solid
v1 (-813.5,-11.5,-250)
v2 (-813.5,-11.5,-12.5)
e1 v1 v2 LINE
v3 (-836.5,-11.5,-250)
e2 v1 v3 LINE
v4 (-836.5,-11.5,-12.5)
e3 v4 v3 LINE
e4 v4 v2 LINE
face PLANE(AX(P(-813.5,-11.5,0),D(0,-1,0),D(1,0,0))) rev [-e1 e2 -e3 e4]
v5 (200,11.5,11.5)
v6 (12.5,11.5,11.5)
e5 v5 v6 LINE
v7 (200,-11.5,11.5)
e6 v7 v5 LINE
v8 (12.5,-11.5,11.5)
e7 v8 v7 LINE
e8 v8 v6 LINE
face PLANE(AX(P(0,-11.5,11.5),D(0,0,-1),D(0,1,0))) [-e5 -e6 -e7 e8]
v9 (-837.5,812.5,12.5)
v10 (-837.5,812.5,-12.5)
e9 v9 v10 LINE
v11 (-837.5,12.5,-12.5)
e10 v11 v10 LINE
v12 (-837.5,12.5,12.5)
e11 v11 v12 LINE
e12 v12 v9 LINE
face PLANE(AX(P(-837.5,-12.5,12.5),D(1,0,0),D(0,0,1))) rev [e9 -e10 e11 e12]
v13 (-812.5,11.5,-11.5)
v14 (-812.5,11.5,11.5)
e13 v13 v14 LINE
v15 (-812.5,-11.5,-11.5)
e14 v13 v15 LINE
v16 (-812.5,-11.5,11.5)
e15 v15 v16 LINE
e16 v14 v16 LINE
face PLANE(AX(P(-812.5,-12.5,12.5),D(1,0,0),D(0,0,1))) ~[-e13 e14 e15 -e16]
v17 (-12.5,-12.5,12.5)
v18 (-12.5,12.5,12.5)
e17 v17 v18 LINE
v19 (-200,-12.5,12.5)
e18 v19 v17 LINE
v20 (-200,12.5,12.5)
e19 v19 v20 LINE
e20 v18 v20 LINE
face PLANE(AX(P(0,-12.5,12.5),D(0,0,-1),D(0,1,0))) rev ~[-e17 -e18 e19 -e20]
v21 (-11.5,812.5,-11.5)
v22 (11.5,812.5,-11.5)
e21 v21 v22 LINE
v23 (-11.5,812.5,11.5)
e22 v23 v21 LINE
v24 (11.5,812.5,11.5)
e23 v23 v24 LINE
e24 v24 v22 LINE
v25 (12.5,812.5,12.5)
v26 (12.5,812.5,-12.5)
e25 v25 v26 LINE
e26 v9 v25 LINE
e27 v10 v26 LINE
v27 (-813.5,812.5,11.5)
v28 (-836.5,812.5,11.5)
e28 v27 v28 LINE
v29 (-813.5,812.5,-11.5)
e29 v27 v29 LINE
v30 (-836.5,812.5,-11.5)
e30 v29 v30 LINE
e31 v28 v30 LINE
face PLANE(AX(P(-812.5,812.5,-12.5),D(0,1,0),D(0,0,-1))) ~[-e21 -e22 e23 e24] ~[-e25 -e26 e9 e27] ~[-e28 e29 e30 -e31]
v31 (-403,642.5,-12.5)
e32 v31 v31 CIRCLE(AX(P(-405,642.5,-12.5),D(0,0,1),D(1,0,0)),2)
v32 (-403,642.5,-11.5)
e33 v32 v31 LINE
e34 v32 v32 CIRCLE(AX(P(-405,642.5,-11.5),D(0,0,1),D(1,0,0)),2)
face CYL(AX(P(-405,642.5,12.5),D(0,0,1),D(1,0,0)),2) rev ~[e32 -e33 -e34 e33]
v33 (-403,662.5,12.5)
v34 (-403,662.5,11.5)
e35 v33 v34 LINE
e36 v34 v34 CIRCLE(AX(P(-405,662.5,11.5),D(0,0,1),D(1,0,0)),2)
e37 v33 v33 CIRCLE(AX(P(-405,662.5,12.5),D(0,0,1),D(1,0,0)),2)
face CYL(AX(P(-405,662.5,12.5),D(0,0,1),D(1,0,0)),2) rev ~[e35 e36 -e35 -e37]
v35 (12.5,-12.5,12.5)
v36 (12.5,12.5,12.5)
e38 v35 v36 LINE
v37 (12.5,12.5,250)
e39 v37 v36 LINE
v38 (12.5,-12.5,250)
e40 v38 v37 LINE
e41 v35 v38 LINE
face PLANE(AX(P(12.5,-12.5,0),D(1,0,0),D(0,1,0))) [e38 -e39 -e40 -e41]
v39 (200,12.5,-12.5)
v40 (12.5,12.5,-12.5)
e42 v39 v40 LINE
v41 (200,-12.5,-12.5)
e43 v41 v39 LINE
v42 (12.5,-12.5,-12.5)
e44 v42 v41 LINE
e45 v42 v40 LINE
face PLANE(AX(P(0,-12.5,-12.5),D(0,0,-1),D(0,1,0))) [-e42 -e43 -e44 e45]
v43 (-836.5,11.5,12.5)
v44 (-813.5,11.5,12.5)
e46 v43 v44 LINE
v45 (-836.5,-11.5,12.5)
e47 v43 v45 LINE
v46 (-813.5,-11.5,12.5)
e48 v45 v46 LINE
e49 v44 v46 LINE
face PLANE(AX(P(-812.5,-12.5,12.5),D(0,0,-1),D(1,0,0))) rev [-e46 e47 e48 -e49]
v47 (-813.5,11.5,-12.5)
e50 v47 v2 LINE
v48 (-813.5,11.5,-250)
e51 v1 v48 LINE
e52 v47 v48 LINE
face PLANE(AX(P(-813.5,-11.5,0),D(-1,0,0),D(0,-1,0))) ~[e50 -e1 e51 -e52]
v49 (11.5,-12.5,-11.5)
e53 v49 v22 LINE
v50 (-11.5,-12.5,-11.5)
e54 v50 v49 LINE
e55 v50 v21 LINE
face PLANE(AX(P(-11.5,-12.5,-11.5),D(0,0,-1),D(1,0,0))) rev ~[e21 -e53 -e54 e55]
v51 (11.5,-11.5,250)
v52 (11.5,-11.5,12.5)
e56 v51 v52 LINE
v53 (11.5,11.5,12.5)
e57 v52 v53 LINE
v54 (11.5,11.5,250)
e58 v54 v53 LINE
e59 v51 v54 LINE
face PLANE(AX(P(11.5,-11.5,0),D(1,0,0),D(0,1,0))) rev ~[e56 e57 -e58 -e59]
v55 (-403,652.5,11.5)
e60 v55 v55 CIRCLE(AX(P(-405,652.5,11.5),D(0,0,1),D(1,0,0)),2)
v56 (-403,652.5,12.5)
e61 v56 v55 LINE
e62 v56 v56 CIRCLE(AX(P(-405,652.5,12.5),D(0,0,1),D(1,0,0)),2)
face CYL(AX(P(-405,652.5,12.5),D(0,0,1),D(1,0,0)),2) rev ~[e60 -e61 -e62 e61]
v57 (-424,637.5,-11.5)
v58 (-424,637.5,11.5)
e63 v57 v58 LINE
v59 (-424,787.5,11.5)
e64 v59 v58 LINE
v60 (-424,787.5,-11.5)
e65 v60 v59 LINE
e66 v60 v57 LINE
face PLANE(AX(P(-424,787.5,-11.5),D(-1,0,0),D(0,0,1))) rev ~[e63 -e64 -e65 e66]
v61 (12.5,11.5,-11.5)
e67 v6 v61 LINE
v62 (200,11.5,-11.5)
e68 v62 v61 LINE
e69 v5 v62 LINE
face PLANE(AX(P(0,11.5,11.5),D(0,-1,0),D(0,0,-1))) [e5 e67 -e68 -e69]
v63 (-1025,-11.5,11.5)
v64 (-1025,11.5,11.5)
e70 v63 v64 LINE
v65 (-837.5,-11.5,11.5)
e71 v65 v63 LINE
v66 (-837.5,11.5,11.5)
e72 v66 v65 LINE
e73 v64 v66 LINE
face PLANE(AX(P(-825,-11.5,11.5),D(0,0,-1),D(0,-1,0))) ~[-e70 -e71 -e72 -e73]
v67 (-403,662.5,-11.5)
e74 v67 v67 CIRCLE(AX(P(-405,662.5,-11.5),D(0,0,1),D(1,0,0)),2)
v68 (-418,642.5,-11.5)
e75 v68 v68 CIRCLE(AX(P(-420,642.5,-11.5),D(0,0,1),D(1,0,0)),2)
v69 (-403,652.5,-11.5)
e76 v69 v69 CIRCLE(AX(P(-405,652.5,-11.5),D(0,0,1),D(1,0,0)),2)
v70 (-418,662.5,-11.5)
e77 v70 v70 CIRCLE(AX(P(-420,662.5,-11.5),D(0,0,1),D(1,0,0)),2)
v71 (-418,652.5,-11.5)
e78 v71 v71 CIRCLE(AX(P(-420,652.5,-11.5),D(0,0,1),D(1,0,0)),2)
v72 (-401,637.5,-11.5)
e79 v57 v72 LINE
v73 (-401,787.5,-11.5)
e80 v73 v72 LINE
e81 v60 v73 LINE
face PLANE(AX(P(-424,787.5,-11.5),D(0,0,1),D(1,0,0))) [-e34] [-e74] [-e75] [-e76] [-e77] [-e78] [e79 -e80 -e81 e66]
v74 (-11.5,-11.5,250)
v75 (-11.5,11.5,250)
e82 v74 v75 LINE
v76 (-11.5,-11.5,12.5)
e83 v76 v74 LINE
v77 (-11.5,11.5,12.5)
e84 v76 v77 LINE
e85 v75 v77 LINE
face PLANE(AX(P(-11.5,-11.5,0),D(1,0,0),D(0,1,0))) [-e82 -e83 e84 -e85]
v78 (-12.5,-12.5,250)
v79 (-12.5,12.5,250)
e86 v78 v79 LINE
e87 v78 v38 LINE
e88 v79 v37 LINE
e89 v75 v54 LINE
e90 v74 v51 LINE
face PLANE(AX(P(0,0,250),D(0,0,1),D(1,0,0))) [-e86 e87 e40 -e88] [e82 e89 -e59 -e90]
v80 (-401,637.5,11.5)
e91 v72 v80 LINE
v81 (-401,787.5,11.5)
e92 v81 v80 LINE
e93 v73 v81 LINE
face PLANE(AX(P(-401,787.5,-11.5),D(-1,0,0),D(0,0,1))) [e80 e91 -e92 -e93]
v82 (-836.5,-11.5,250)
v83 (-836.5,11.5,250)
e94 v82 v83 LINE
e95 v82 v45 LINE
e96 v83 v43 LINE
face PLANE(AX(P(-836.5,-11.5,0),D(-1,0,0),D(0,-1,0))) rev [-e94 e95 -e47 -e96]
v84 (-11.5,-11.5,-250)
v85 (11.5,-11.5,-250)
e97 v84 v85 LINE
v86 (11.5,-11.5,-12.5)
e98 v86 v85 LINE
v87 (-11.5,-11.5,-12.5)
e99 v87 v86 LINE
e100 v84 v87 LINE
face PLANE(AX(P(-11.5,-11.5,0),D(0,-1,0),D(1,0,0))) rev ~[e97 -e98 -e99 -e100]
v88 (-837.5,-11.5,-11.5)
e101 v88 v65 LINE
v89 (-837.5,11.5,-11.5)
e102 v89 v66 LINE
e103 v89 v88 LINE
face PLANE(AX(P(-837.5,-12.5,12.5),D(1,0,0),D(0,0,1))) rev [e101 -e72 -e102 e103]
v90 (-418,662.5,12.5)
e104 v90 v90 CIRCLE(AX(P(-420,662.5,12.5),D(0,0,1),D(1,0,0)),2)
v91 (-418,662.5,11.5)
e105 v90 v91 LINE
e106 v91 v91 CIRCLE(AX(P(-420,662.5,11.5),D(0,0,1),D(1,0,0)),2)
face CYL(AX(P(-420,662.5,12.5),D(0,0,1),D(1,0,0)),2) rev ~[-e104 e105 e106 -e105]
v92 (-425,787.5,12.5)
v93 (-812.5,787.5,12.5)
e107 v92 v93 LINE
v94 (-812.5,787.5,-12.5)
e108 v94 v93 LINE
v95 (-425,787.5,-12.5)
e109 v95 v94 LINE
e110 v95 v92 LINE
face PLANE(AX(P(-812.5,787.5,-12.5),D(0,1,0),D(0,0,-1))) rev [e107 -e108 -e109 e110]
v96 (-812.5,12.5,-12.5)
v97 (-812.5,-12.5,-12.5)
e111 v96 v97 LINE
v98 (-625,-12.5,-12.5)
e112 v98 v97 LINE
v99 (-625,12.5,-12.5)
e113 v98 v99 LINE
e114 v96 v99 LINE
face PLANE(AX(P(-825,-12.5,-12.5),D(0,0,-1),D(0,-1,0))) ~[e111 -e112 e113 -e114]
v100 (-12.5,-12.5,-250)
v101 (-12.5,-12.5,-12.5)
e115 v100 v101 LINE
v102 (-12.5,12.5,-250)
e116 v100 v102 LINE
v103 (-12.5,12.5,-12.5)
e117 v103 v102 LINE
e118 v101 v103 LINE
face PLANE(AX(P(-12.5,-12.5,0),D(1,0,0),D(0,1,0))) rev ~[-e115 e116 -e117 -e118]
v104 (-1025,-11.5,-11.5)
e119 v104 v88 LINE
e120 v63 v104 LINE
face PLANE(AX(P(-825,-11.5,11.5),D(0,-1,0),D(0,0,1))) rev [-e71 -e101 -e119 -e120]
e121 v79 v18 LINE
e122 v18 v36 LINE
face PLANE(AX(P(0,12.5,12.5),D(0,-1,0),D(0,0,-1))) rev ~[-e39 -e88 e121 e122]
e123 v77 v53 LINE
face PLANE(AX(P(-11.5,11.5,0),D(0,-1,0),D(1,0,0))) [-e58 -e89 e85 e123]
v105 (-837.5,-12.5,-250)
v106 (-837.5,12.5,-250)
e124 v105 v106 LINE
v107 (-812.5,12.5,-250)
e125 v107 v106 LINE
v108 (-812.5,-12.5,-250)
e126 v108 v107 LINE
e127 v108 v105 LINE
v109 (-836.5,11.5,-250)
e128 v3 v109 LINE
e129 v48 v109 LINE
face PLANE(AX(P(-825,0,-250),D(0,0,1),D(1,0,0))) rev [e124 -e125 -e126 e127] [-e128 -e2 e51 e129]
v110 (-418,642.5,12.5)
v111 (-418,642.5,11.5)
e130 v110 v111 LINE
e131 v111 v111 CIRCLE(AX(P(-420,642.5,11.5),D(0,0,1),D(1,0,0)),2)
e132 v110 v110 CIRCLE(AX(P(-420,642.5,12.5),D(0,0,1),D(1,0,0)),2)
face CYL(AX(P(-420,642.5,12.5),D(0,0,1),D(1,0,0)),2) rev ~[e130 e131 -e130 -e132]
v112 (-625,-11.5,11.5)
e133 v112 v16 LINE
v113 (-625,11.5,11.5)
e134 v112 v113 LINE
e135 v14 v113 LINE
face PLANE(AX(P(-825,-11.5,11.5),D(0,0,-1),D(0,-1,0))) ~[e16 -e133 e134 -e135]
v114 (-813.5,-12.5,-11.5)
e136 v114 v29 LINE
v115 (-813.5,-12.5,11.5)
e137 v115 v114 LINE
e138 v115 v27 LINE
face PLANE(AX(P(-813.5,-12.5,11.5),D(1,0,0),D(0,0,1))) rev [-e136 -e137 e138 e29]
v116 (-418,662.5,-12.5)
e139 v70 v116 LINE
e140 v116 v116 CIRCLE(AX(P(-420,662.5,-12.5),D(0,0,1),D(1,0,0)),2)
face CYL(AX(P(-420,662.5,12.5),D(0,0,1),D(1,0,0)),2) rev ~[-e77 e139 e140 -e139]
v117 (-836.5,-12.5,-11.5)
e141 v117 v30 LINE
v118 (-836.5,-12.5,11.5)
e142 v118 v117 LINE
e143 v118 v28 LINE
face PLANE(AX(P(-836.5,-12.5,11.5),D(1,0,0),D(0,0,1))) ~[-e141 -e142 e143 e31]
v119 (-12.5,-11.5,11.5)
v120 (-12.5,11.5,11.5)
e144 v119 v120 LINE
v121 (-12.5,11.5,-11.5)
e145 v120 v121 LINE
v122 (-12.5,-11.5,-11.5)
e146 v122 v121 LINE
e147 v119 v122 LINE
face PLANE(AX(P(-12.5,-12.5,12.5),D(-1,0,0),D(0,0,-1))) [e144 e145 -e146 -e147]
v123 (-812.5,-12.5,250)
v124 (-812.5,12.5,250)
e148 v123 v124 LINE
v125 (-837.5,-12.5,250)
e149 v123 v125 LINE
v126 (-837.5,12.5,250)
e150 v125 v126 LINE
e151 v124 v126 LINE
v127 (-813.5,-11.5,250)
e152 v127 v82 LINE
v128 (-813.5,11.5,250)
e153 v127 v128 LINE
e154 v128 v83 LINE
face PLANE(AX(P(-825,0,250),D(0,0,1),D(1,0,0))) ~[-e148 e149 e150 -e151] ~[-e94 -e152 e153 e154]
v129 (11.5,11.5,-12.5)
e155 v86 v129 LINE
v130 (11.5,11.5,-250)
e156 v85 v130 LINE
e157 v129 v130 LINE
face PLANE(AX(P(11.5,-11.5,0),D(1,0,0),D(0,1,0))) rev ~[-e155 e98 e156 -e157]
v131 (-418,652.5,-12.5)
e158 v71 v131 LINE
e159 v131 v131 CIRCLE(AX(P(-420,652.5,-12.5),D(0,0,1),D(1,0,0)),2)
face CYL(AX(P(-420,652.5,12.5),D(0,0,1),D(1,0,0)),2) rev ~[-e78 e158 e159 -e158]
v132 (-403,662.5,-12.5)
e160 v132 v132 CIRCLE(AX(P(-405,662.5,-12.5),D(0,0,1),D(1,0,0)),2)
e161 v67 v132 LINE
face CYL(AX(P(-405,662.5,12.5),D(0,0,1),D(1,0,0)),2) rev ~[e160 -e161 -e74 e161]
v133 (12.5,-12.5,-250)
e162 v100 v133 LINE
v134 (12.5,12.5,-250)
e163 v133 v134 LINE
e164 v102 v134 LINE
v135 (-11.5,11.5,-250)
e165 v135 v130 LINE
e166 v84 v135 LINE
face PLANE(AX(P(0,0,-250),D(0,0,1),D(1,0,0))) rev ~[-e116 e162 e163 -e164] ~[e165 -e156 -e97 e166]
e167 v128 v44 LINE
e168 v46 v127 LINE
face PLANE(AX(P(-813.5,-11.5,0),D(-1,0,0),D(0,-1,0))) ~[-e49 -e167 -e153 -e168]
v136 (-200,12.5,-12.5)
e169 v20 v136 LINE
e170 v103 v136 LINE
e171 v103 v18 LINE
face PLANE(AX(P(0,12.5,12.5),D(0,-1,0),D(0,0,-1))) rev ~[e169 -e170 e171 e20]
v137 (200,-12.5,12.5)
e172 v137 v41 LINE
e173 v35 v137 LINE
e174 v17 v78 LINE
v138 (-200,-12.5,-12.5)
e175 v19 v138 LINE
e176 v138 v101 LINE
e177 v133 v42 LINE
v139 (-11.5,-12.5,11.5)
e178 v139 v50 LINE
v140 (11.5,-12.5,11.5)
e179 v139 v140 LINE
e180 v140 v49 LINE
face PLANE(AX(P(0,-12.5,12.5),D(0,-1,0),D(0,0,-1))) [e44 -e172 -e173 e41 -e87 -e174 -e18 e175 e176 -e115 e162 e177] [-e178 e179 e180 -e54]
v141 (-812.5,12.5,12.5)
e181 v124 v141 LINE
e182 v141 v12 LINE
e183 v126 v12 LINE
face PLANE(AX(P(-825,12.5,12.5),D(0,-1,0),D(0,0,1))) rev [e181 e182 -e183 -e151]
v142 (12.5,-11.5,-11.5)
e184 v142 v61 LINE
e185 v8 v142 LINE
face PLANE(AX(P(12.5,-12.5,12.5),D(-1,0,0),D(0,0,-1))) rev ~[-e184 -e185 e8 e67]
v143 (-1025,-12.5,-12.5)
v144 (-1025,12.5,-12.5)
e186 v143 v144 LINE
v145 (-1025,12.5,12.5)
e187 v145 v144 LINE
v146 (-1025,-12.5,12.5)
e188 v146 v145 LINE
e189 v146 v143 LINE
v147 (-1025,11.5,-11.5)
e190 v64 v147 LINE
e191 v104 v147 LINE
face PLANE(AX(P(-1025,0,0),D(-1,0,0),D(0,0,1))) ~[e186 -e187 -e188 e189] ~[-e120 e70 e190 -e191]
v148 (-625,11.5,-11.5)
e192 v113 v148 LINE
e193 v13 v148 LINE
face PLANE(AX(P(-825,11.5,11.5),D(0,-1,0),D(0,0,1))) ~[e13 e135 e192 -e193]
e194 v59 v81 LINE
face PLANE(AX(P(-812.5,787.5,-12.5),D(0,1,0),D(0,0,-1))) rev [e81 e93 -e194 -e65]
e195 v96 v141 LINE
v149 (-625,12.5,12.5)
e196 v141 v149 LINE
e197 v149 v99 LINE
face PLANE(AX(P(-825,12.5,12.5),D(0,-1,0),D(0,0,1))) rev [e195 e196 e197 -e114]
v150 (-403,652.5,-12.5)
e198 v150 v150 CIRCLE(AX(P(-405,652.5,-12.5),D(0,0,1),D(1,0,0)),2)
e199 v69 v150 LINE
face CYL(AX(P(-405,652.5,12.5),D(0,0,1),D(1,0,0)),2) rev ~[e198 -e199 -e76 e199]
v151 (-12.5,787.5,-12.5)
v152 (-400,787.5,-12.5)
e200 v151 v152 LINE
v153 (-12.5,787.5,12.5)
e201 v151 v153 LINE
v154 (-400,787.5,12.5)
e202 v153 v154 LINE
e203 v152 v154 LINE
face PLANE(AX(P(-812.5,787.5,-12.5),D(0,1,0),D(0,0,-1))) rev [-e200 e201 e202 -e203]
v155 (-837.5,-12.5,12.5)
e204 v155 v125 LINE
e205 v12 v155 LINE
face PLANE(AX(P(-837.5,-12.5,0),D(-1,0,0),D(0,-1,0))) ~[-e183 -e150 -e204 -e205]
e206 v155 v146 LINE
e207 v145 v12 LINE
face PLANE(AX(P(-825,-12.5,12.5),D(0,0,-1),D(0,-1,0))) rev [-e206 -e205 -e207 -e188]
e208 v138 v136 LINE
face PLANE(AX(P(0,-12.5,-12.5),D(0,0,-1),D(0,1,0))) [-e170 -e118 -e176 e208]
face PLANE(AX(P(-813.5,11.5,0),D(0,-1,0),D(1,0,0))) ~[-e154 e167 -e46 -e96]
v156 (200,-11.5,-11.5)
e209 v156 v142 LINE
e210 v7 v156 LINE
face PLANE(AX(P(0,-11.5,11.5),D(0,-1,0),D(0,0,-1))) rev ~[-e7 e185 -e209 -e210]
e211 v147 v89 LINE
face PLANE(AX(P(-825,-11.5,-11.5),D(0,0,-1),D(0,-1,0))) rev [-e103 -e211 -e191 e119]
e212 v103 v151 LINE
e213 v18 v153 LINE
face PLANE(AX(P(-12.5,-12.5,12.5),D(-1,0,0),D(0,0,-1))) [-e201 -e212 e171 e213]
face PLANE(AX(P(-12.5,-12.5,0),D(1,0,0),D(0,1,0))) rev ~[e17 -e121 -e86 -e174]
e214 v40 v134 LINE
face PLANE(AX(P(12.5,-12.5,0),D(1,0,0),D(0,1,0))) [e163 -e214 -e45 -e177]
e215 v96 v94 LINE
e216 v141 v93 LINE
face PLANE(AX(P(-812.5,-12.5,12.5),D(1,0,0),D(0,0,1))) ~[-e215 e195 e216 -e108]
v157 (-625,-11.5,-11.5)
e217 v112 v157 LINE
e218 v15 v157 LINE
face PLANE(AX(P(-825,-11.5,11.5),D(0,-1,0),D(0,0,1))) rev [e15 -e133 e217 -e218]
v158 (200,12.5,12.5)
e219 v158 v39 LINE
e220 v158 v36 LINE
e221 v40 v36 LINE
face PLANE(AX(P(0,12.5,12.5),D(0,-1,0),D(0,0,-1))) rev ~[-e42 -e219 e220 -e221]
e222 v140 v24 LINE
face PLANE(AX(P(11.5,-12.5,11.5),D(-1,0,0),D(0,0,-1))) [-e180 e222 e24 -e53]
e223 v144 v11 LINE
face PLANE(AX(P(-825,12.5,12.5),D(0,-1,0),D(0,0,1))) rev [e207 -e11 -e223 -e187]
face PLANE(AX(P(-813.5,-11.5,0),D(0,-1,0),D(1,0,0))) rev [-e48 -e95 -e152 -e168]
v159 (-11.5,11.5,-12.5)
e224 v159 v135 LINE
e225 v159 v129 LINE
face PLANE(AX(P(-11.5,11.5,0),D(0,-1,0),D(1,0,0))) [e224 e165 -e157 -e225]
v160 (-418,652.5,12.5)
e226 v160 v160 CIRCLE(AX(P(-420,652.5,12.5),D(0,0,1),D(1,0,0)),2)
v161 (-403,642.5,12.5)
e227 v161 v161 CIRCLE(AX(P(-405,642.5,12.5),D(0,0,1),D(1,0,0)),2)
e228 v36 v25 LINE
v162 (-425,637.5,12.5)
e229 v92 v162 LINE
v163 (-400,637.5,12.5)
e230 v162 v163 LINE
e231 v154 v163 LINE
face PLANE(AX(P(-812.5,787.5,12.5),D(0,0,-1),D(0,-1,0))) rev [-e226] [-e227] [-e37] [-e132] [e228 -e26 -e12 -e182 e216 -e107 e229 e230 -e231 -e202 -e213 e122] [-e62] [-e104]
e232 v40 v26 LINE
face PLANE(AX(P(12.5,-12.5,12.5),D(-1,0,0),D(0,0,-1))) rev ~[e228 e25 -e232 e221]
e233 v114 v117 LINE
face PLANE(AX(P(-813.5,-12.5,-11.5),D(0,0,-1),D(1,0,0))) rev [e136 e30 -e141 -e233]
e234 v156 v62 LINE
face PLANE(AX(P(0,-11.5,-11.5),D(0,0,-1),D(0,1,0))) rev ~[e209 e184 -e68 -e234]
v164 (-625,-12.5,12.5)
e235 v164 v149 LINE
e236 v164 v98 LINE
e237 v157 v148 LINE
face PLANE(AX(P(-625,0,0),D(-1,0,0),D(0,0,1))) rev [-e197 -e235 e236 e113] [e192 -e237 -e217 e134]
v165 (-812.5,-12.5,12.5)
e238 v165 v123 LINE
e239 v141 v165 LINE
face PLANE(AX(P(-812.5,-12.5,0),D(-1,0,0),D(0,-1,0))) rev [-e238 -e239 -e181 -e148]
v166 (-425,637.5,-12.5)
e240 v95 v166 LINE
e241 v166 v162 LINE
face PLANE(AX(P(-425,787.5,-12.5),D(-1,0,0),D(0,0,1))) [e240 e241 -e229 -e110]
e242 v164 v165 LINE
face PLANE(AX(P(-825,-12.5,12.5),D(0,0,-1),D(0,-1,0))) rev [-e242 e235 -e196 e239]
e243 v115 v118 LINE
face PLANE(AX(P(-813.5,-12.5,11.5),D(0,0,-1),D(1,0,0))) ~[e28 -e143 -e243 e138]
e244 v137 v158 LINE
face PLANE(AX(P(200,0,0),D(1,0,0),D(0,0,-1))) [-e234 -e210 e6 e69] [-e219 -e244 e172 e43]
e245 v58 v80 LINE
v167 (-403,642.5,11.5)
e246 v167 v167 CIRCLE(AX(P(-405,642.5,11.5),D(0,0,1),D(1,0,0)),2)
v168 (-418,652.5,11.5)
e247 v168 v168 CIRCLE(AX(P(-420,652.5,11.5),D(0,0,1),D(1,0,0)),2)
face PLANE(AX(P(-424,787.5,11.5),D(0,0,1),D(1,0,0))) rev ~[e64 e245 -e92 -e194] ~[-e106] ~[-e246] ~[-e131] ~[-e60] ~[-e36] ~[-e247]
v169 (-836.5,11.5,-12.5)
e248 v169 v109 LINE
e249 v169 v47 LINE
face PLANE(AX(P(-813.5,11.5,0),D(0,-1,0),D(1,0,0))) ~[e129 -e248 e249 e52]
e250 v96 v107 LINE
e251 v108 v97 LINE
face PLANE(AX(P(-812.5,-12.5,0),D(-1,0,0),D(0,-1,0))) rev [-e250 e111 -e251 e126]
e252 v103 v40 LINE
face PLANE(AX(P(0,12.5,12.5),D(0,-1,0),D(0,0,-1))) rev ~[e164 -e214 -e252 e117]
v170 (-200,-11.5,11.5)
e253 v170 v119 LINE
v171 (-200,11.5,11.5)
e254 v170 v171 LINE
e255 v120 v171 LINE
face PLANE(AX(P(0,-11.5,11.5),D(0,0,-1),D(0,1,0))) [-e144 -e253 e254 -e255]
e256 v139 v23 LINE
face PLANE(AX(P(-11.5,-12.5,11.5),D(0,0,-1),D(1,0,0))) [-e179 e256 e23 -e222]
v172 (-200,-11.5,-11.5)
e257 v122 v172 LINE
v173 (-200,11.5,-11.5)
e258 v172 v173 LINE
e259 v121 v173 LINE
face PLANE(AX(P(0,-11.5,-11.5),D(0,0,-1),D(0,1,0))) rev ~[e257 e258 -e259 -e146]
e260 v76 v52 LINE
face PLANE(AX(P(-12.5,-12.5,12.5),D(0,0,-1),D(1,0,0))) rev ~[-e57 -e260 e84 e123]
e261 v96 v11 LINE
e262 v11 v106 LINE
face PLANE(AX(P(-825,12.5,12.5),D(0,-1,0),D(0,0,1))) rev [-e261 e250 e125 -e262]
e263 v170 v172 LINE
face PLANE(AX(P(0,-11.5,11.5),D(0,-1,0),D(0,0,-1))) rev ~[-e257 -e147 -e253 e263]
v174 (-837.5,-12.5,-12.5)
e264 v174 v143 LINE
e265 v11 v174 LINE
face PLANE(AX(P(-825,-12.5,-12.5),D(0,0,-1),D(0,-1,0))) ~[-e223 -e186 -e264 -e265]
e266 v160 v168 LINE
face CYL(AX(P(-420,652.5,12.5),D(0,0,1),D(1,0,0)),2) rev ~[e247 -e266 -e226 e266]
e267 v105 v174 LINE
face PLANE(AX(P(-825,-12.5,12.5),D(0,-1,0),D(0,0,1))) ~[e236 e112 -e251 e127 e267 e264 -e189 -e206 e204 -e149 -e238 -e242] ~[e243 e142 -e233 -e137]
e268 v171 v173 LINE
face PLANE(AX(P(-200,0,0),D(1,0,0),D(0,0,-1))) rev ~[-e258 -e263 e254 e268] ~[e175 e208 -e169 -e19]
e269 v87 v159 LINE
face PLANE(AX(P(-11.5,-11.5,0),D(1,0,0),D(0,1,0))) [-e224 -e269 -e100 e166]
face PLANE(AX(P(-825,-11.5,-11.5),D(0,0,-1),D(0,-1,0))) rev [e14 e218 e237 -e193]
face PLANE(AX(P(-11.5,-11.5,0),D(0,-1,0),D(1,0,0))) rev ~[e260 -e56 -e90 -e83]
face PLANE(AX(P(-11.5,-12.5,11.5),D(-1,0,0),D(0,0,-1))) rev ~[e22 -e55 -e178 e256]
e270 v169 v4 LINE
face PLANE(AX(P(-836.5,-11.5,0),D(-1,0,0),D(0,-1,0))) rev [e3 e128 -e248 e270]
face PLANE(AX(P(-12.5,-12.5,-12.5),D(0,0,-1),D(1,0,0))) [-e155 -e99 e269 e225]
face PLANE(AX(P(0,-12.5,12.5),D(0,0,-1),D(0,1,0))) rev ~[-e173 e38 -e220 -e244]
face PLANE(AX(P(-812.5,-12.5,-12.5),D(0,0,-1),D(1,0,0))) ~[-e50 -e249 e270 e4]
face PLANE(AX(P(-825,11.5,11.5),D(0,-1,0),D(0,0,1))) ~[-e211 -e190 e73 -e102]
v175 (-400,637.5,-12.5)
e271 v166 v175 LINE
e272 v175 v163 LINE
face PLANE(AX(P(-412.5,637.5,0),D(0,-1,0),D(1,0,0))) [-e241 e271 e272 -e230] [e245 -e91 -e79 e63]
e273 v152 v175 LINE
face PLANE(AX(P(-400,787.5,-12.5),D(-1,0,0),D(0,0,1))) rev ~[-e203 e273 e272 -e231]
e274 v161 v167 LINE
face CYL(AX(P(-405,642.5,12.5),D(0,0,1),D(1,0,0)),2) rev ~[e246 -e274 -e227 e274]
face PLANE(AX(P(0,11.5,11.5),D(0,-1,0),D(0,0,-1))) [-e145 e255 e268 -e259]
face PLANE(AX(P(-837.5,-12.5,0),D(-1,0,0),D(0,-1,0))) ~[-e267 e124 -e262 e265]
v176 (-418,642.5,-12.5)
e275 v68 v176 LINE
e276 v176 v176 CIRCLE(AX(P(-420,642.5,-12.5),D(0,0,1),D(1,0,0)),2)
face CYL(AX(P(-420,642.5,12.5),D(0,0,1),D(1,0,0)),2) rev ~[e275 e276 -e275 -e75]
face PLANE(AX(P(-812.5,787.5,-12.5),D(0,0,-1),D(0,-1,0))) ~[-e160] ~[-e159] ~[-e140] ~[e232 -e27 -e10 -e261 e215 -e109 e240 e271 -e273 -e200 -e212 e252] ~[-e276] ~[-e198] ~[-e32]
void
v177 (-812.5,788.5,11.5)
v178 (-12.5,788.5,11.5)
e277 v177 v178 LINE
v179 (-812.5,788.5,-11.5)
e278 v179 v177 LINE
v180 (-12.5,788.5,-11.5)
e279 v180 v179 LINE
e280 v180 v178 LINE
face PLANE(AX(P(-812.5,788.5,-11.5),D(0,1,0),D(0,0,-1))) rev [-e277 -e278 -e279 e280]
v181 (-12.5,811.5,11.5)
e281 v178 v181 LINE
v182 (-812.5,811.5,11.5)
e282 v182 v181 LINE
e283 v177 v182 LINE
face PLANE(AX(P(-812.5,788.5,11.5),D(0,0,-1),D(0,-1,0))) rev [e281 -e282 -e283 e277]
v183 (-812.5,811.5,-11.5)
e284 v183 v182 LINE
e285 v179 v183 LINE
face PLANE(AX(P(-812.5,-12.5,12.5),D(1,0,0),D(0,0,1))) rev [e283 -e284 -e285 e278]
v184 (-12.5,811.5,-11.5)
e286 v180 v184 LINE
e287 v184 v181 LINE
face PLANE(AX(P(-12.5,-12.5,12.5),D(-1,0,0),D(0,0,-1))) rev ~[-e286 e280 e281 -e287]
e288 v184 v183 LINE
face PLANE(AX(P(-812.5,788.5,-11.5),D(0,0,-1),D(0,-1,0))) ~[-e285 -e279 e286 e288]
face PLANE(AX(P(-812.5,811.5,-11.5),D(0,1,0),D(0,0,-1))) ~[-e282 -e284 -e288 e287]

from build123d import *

# Parameters (mm, degrees)
SKETCH1_W           = 25
SKETCH1_H           = 25
SKETCH1_W_2         = 23
SKETCH1_H_2         = 23
BOSS_EXTRUDE1_DEPTH = 250
SKETCH2_W           = 25
SKETCH2_H           = 25
SKETCH2_W_2         = 23
SKETCH2_H_2         = 23
BOSS_EXTRUDE2_DEPTH = 200
SKETCH4_W           = 25
SKETCH4_H           = 25
CUT_EXTRUDE6_DEPTH  = 25
BOSS_EXTRUDE3_START = -12.5
SKETCH3_W           = 25
SKETCH3_H           = 25
SKETCH3_W_2         = 23
SKETCH3_H_2         = 23
BOSS_EXTRUDE3_DEPTH = 825
SKETCH5_W           = 25
SKETCH5_H           = 25
SKETCH5_W_2         = 23
SKETCH5_H_2         = 23
BOSS_EXTRUDE4_DEPTH = 400
SKETCH6_W           = 25
SKETCH6_H           = 25
SKETCH6_W_2         = 23
SKETCH6_H_2         = 23
BOSS_EXTRUDE5_DEPTH = 150
SKETCH7_R           = 2
CUT_EXTRUDE7_DEPTH  = 25


with BuildPart() as part:
    # Sketch1 → Boss-Extrude1 (new, symmetric)
    with BuildSketch(Plane.XY):
        Rectangle(SKETCH1_W, SKETCH1_H)
        Rectangle(SKETCH1_W_2, SKETCH1_H_2, mode=Mode.SUBTRACT)
    boss_extrude1 = extrude(amount=BOSS_EXTRUDE1_DEPTH, both=True)

    # Sketch2 → Boss-Extrude2 (add, symmetric)
    with BuildSketch(Plane(origin=(0, 0, 0), x_dir=(0, 0, -1), z_dir=(1, 0, 0))):
        Rectangle(SKETCH2_W, SKETCH2_H)
        Rectangle(SKETCH2_W_2, SKETCH2_H_2, mode=Mode.SUBTRACT)
    boss_extrude2 = extrude(amount=BOSS_EXTRUDE2_DEPTH, both=True)

    # Sketch4 → Cut-Extrude6 (cut)
    with BuildSketch(Plane.XZ.offset(12.5)):
        Rectangle(SKETCH4_W, SKETCH4_H)
    cut_extrude6 = extrude(amount=-CUT_EXTRUDE6_DEPTH, mode=Mode.SUBTRACT)


with BuildPart() as cut_extrude6_piece_1:
    # of the separate pieces the step leaves, piece 1, a body of its own (cut_extrude6_pieces)
    add(part.part.solids().sort_by_distance((-12.5, 12.5, -250))[0])



with BuildPart() as cut_extrude6_piece_2:
    # of the separate pieces the step leaves, piece 2, a body of its own (cut_extrude6_pieces)
    add(part.part.solids().sort_by_distance((-12.5, 12.5, 250))[0])


with BuildPart() as cut_extrude6_piece_3:
    # of the separate pieces the step leaves, piece 3, a body of its own (cut_extrude6_pieces)
    add(part.part.solids().sort_by_distance((-200, 12.5, -12.5))[0])


with BuildPart() as cut_extrude6_piece_4:
    # of the separate pieces the step leaves, piece 4, a body of its own (cut_extrude6_pieces)
    add(part.part.solids().sort_by_distance((200, 12.5, 12.5))[0])


with BuildPart() as cut_extrude6_piece_1_1:
    add(cut_extrude6_piece_1.part)

    add(cut_extrude6_piece_2.part)  # Boss-Extrude3 merges Cut-Extrude6 piece 2

    add(cut_extrude6_piece_3.part)  # Boss-Extrude3 merges Cut-Extrude6 piece 3

    add(cut_extrude6_piece_4.part)  # Boss-Extrude3 merges Cut-Extrude6 piece 4
    # Sketch3 → Boss-Extrude3 (add)
    with BuildSketch(Plane(origin=(0, 0, 0), x_dir=(1, 0, 0), z_dir=(0, 1, 0)).offset(BOSS_EXTRUDE3_START)):
        Rectangle(SKETCH3_W, SKETCH3_H)
        Rectangle(SKETCH3_W_2, SKETCH3_H_2, mode=Mode.SUBTRACT)
    boss_extrude3 = extrude(amount=BOSS_EXTRUDE3_DEPTH)

    # Sketch5 → Boss-Extrude4 (add)
    with BuildSketch(Plane.ZY.offset(12.5)):
        with Locations((0, 800)):
            Rectangle(SKETCH5_W, SKETCH5_H)
        with Locations((0, 800)):
            Rectangle(SKETCH5_W_2, SKETCH5_H_2, mode=Mode.SUBTRACT)
    boss_extrude4 = extrude(amount=BOSS_EXTRUDE4_DEPTH)

    # Mirror1: Boss-Extrude1, Boss-Extrude2, Cut-Extrude6, Boss-Extrude3, Boss-Extrude4 across plane
    add(boss_extrude1.mirror(Plane.ZY.offset(412.5)))
    add(boss_extrude2.mirror(Plane.ZY.offset(412.5)))
    add(cut_extrude6.mirror(Plane.ZY.offset(412.5)), mode=Mode.SUBTRACT)
    add(boss_extrude3.mirror(Plane.ZY.offset(412.5)))
    add(boss_extrude4.mirror(Plane.ZY.offset(412.5)))

    # Sketch6 → Boss-Extrude5 (add)
    with BuildSketch(Plane.XZ.offset(-787.5)):
        with Locations((-412.5, 0)):
            Rectangle(SKETCH6_W, SKETCH6_H)
        with Locations((-412.5, 0)):
            Rectangle(SKETCH6_W_2, SKETCH6_H_2, mode=Mode.SUBTRACT)
    extrude(amount=BOSS_EXTRUDE5_DEPTH)

    # Sketch7 → Cut-Extrude7 (cut)
    with BuildSketch(Plane.XY.offset(12.5)):
        with Locations((-420, 662.5)):
            Circle(SKETCH7_R)
        with Locations((-405, 662.5)):
            Circle(SKETCH7_R)
        with Locations((-420, 652.5)):
            Circle(SKETCH7_R)
        with Locations((-405, 652.5)):
            Circle(SKETCH7_R)
        with Locations((-420, 642.5)):
            Circle(SKETCH7_R)
        with Locations((-405, 642.5)):
            Circle(SKETCH7_R)
    extrude(amount=-CUT_EXTRUDE7_DEPTH, mode=Mode.SUBTRACT)


solid = cut_extrude6_piece_1_1.part
